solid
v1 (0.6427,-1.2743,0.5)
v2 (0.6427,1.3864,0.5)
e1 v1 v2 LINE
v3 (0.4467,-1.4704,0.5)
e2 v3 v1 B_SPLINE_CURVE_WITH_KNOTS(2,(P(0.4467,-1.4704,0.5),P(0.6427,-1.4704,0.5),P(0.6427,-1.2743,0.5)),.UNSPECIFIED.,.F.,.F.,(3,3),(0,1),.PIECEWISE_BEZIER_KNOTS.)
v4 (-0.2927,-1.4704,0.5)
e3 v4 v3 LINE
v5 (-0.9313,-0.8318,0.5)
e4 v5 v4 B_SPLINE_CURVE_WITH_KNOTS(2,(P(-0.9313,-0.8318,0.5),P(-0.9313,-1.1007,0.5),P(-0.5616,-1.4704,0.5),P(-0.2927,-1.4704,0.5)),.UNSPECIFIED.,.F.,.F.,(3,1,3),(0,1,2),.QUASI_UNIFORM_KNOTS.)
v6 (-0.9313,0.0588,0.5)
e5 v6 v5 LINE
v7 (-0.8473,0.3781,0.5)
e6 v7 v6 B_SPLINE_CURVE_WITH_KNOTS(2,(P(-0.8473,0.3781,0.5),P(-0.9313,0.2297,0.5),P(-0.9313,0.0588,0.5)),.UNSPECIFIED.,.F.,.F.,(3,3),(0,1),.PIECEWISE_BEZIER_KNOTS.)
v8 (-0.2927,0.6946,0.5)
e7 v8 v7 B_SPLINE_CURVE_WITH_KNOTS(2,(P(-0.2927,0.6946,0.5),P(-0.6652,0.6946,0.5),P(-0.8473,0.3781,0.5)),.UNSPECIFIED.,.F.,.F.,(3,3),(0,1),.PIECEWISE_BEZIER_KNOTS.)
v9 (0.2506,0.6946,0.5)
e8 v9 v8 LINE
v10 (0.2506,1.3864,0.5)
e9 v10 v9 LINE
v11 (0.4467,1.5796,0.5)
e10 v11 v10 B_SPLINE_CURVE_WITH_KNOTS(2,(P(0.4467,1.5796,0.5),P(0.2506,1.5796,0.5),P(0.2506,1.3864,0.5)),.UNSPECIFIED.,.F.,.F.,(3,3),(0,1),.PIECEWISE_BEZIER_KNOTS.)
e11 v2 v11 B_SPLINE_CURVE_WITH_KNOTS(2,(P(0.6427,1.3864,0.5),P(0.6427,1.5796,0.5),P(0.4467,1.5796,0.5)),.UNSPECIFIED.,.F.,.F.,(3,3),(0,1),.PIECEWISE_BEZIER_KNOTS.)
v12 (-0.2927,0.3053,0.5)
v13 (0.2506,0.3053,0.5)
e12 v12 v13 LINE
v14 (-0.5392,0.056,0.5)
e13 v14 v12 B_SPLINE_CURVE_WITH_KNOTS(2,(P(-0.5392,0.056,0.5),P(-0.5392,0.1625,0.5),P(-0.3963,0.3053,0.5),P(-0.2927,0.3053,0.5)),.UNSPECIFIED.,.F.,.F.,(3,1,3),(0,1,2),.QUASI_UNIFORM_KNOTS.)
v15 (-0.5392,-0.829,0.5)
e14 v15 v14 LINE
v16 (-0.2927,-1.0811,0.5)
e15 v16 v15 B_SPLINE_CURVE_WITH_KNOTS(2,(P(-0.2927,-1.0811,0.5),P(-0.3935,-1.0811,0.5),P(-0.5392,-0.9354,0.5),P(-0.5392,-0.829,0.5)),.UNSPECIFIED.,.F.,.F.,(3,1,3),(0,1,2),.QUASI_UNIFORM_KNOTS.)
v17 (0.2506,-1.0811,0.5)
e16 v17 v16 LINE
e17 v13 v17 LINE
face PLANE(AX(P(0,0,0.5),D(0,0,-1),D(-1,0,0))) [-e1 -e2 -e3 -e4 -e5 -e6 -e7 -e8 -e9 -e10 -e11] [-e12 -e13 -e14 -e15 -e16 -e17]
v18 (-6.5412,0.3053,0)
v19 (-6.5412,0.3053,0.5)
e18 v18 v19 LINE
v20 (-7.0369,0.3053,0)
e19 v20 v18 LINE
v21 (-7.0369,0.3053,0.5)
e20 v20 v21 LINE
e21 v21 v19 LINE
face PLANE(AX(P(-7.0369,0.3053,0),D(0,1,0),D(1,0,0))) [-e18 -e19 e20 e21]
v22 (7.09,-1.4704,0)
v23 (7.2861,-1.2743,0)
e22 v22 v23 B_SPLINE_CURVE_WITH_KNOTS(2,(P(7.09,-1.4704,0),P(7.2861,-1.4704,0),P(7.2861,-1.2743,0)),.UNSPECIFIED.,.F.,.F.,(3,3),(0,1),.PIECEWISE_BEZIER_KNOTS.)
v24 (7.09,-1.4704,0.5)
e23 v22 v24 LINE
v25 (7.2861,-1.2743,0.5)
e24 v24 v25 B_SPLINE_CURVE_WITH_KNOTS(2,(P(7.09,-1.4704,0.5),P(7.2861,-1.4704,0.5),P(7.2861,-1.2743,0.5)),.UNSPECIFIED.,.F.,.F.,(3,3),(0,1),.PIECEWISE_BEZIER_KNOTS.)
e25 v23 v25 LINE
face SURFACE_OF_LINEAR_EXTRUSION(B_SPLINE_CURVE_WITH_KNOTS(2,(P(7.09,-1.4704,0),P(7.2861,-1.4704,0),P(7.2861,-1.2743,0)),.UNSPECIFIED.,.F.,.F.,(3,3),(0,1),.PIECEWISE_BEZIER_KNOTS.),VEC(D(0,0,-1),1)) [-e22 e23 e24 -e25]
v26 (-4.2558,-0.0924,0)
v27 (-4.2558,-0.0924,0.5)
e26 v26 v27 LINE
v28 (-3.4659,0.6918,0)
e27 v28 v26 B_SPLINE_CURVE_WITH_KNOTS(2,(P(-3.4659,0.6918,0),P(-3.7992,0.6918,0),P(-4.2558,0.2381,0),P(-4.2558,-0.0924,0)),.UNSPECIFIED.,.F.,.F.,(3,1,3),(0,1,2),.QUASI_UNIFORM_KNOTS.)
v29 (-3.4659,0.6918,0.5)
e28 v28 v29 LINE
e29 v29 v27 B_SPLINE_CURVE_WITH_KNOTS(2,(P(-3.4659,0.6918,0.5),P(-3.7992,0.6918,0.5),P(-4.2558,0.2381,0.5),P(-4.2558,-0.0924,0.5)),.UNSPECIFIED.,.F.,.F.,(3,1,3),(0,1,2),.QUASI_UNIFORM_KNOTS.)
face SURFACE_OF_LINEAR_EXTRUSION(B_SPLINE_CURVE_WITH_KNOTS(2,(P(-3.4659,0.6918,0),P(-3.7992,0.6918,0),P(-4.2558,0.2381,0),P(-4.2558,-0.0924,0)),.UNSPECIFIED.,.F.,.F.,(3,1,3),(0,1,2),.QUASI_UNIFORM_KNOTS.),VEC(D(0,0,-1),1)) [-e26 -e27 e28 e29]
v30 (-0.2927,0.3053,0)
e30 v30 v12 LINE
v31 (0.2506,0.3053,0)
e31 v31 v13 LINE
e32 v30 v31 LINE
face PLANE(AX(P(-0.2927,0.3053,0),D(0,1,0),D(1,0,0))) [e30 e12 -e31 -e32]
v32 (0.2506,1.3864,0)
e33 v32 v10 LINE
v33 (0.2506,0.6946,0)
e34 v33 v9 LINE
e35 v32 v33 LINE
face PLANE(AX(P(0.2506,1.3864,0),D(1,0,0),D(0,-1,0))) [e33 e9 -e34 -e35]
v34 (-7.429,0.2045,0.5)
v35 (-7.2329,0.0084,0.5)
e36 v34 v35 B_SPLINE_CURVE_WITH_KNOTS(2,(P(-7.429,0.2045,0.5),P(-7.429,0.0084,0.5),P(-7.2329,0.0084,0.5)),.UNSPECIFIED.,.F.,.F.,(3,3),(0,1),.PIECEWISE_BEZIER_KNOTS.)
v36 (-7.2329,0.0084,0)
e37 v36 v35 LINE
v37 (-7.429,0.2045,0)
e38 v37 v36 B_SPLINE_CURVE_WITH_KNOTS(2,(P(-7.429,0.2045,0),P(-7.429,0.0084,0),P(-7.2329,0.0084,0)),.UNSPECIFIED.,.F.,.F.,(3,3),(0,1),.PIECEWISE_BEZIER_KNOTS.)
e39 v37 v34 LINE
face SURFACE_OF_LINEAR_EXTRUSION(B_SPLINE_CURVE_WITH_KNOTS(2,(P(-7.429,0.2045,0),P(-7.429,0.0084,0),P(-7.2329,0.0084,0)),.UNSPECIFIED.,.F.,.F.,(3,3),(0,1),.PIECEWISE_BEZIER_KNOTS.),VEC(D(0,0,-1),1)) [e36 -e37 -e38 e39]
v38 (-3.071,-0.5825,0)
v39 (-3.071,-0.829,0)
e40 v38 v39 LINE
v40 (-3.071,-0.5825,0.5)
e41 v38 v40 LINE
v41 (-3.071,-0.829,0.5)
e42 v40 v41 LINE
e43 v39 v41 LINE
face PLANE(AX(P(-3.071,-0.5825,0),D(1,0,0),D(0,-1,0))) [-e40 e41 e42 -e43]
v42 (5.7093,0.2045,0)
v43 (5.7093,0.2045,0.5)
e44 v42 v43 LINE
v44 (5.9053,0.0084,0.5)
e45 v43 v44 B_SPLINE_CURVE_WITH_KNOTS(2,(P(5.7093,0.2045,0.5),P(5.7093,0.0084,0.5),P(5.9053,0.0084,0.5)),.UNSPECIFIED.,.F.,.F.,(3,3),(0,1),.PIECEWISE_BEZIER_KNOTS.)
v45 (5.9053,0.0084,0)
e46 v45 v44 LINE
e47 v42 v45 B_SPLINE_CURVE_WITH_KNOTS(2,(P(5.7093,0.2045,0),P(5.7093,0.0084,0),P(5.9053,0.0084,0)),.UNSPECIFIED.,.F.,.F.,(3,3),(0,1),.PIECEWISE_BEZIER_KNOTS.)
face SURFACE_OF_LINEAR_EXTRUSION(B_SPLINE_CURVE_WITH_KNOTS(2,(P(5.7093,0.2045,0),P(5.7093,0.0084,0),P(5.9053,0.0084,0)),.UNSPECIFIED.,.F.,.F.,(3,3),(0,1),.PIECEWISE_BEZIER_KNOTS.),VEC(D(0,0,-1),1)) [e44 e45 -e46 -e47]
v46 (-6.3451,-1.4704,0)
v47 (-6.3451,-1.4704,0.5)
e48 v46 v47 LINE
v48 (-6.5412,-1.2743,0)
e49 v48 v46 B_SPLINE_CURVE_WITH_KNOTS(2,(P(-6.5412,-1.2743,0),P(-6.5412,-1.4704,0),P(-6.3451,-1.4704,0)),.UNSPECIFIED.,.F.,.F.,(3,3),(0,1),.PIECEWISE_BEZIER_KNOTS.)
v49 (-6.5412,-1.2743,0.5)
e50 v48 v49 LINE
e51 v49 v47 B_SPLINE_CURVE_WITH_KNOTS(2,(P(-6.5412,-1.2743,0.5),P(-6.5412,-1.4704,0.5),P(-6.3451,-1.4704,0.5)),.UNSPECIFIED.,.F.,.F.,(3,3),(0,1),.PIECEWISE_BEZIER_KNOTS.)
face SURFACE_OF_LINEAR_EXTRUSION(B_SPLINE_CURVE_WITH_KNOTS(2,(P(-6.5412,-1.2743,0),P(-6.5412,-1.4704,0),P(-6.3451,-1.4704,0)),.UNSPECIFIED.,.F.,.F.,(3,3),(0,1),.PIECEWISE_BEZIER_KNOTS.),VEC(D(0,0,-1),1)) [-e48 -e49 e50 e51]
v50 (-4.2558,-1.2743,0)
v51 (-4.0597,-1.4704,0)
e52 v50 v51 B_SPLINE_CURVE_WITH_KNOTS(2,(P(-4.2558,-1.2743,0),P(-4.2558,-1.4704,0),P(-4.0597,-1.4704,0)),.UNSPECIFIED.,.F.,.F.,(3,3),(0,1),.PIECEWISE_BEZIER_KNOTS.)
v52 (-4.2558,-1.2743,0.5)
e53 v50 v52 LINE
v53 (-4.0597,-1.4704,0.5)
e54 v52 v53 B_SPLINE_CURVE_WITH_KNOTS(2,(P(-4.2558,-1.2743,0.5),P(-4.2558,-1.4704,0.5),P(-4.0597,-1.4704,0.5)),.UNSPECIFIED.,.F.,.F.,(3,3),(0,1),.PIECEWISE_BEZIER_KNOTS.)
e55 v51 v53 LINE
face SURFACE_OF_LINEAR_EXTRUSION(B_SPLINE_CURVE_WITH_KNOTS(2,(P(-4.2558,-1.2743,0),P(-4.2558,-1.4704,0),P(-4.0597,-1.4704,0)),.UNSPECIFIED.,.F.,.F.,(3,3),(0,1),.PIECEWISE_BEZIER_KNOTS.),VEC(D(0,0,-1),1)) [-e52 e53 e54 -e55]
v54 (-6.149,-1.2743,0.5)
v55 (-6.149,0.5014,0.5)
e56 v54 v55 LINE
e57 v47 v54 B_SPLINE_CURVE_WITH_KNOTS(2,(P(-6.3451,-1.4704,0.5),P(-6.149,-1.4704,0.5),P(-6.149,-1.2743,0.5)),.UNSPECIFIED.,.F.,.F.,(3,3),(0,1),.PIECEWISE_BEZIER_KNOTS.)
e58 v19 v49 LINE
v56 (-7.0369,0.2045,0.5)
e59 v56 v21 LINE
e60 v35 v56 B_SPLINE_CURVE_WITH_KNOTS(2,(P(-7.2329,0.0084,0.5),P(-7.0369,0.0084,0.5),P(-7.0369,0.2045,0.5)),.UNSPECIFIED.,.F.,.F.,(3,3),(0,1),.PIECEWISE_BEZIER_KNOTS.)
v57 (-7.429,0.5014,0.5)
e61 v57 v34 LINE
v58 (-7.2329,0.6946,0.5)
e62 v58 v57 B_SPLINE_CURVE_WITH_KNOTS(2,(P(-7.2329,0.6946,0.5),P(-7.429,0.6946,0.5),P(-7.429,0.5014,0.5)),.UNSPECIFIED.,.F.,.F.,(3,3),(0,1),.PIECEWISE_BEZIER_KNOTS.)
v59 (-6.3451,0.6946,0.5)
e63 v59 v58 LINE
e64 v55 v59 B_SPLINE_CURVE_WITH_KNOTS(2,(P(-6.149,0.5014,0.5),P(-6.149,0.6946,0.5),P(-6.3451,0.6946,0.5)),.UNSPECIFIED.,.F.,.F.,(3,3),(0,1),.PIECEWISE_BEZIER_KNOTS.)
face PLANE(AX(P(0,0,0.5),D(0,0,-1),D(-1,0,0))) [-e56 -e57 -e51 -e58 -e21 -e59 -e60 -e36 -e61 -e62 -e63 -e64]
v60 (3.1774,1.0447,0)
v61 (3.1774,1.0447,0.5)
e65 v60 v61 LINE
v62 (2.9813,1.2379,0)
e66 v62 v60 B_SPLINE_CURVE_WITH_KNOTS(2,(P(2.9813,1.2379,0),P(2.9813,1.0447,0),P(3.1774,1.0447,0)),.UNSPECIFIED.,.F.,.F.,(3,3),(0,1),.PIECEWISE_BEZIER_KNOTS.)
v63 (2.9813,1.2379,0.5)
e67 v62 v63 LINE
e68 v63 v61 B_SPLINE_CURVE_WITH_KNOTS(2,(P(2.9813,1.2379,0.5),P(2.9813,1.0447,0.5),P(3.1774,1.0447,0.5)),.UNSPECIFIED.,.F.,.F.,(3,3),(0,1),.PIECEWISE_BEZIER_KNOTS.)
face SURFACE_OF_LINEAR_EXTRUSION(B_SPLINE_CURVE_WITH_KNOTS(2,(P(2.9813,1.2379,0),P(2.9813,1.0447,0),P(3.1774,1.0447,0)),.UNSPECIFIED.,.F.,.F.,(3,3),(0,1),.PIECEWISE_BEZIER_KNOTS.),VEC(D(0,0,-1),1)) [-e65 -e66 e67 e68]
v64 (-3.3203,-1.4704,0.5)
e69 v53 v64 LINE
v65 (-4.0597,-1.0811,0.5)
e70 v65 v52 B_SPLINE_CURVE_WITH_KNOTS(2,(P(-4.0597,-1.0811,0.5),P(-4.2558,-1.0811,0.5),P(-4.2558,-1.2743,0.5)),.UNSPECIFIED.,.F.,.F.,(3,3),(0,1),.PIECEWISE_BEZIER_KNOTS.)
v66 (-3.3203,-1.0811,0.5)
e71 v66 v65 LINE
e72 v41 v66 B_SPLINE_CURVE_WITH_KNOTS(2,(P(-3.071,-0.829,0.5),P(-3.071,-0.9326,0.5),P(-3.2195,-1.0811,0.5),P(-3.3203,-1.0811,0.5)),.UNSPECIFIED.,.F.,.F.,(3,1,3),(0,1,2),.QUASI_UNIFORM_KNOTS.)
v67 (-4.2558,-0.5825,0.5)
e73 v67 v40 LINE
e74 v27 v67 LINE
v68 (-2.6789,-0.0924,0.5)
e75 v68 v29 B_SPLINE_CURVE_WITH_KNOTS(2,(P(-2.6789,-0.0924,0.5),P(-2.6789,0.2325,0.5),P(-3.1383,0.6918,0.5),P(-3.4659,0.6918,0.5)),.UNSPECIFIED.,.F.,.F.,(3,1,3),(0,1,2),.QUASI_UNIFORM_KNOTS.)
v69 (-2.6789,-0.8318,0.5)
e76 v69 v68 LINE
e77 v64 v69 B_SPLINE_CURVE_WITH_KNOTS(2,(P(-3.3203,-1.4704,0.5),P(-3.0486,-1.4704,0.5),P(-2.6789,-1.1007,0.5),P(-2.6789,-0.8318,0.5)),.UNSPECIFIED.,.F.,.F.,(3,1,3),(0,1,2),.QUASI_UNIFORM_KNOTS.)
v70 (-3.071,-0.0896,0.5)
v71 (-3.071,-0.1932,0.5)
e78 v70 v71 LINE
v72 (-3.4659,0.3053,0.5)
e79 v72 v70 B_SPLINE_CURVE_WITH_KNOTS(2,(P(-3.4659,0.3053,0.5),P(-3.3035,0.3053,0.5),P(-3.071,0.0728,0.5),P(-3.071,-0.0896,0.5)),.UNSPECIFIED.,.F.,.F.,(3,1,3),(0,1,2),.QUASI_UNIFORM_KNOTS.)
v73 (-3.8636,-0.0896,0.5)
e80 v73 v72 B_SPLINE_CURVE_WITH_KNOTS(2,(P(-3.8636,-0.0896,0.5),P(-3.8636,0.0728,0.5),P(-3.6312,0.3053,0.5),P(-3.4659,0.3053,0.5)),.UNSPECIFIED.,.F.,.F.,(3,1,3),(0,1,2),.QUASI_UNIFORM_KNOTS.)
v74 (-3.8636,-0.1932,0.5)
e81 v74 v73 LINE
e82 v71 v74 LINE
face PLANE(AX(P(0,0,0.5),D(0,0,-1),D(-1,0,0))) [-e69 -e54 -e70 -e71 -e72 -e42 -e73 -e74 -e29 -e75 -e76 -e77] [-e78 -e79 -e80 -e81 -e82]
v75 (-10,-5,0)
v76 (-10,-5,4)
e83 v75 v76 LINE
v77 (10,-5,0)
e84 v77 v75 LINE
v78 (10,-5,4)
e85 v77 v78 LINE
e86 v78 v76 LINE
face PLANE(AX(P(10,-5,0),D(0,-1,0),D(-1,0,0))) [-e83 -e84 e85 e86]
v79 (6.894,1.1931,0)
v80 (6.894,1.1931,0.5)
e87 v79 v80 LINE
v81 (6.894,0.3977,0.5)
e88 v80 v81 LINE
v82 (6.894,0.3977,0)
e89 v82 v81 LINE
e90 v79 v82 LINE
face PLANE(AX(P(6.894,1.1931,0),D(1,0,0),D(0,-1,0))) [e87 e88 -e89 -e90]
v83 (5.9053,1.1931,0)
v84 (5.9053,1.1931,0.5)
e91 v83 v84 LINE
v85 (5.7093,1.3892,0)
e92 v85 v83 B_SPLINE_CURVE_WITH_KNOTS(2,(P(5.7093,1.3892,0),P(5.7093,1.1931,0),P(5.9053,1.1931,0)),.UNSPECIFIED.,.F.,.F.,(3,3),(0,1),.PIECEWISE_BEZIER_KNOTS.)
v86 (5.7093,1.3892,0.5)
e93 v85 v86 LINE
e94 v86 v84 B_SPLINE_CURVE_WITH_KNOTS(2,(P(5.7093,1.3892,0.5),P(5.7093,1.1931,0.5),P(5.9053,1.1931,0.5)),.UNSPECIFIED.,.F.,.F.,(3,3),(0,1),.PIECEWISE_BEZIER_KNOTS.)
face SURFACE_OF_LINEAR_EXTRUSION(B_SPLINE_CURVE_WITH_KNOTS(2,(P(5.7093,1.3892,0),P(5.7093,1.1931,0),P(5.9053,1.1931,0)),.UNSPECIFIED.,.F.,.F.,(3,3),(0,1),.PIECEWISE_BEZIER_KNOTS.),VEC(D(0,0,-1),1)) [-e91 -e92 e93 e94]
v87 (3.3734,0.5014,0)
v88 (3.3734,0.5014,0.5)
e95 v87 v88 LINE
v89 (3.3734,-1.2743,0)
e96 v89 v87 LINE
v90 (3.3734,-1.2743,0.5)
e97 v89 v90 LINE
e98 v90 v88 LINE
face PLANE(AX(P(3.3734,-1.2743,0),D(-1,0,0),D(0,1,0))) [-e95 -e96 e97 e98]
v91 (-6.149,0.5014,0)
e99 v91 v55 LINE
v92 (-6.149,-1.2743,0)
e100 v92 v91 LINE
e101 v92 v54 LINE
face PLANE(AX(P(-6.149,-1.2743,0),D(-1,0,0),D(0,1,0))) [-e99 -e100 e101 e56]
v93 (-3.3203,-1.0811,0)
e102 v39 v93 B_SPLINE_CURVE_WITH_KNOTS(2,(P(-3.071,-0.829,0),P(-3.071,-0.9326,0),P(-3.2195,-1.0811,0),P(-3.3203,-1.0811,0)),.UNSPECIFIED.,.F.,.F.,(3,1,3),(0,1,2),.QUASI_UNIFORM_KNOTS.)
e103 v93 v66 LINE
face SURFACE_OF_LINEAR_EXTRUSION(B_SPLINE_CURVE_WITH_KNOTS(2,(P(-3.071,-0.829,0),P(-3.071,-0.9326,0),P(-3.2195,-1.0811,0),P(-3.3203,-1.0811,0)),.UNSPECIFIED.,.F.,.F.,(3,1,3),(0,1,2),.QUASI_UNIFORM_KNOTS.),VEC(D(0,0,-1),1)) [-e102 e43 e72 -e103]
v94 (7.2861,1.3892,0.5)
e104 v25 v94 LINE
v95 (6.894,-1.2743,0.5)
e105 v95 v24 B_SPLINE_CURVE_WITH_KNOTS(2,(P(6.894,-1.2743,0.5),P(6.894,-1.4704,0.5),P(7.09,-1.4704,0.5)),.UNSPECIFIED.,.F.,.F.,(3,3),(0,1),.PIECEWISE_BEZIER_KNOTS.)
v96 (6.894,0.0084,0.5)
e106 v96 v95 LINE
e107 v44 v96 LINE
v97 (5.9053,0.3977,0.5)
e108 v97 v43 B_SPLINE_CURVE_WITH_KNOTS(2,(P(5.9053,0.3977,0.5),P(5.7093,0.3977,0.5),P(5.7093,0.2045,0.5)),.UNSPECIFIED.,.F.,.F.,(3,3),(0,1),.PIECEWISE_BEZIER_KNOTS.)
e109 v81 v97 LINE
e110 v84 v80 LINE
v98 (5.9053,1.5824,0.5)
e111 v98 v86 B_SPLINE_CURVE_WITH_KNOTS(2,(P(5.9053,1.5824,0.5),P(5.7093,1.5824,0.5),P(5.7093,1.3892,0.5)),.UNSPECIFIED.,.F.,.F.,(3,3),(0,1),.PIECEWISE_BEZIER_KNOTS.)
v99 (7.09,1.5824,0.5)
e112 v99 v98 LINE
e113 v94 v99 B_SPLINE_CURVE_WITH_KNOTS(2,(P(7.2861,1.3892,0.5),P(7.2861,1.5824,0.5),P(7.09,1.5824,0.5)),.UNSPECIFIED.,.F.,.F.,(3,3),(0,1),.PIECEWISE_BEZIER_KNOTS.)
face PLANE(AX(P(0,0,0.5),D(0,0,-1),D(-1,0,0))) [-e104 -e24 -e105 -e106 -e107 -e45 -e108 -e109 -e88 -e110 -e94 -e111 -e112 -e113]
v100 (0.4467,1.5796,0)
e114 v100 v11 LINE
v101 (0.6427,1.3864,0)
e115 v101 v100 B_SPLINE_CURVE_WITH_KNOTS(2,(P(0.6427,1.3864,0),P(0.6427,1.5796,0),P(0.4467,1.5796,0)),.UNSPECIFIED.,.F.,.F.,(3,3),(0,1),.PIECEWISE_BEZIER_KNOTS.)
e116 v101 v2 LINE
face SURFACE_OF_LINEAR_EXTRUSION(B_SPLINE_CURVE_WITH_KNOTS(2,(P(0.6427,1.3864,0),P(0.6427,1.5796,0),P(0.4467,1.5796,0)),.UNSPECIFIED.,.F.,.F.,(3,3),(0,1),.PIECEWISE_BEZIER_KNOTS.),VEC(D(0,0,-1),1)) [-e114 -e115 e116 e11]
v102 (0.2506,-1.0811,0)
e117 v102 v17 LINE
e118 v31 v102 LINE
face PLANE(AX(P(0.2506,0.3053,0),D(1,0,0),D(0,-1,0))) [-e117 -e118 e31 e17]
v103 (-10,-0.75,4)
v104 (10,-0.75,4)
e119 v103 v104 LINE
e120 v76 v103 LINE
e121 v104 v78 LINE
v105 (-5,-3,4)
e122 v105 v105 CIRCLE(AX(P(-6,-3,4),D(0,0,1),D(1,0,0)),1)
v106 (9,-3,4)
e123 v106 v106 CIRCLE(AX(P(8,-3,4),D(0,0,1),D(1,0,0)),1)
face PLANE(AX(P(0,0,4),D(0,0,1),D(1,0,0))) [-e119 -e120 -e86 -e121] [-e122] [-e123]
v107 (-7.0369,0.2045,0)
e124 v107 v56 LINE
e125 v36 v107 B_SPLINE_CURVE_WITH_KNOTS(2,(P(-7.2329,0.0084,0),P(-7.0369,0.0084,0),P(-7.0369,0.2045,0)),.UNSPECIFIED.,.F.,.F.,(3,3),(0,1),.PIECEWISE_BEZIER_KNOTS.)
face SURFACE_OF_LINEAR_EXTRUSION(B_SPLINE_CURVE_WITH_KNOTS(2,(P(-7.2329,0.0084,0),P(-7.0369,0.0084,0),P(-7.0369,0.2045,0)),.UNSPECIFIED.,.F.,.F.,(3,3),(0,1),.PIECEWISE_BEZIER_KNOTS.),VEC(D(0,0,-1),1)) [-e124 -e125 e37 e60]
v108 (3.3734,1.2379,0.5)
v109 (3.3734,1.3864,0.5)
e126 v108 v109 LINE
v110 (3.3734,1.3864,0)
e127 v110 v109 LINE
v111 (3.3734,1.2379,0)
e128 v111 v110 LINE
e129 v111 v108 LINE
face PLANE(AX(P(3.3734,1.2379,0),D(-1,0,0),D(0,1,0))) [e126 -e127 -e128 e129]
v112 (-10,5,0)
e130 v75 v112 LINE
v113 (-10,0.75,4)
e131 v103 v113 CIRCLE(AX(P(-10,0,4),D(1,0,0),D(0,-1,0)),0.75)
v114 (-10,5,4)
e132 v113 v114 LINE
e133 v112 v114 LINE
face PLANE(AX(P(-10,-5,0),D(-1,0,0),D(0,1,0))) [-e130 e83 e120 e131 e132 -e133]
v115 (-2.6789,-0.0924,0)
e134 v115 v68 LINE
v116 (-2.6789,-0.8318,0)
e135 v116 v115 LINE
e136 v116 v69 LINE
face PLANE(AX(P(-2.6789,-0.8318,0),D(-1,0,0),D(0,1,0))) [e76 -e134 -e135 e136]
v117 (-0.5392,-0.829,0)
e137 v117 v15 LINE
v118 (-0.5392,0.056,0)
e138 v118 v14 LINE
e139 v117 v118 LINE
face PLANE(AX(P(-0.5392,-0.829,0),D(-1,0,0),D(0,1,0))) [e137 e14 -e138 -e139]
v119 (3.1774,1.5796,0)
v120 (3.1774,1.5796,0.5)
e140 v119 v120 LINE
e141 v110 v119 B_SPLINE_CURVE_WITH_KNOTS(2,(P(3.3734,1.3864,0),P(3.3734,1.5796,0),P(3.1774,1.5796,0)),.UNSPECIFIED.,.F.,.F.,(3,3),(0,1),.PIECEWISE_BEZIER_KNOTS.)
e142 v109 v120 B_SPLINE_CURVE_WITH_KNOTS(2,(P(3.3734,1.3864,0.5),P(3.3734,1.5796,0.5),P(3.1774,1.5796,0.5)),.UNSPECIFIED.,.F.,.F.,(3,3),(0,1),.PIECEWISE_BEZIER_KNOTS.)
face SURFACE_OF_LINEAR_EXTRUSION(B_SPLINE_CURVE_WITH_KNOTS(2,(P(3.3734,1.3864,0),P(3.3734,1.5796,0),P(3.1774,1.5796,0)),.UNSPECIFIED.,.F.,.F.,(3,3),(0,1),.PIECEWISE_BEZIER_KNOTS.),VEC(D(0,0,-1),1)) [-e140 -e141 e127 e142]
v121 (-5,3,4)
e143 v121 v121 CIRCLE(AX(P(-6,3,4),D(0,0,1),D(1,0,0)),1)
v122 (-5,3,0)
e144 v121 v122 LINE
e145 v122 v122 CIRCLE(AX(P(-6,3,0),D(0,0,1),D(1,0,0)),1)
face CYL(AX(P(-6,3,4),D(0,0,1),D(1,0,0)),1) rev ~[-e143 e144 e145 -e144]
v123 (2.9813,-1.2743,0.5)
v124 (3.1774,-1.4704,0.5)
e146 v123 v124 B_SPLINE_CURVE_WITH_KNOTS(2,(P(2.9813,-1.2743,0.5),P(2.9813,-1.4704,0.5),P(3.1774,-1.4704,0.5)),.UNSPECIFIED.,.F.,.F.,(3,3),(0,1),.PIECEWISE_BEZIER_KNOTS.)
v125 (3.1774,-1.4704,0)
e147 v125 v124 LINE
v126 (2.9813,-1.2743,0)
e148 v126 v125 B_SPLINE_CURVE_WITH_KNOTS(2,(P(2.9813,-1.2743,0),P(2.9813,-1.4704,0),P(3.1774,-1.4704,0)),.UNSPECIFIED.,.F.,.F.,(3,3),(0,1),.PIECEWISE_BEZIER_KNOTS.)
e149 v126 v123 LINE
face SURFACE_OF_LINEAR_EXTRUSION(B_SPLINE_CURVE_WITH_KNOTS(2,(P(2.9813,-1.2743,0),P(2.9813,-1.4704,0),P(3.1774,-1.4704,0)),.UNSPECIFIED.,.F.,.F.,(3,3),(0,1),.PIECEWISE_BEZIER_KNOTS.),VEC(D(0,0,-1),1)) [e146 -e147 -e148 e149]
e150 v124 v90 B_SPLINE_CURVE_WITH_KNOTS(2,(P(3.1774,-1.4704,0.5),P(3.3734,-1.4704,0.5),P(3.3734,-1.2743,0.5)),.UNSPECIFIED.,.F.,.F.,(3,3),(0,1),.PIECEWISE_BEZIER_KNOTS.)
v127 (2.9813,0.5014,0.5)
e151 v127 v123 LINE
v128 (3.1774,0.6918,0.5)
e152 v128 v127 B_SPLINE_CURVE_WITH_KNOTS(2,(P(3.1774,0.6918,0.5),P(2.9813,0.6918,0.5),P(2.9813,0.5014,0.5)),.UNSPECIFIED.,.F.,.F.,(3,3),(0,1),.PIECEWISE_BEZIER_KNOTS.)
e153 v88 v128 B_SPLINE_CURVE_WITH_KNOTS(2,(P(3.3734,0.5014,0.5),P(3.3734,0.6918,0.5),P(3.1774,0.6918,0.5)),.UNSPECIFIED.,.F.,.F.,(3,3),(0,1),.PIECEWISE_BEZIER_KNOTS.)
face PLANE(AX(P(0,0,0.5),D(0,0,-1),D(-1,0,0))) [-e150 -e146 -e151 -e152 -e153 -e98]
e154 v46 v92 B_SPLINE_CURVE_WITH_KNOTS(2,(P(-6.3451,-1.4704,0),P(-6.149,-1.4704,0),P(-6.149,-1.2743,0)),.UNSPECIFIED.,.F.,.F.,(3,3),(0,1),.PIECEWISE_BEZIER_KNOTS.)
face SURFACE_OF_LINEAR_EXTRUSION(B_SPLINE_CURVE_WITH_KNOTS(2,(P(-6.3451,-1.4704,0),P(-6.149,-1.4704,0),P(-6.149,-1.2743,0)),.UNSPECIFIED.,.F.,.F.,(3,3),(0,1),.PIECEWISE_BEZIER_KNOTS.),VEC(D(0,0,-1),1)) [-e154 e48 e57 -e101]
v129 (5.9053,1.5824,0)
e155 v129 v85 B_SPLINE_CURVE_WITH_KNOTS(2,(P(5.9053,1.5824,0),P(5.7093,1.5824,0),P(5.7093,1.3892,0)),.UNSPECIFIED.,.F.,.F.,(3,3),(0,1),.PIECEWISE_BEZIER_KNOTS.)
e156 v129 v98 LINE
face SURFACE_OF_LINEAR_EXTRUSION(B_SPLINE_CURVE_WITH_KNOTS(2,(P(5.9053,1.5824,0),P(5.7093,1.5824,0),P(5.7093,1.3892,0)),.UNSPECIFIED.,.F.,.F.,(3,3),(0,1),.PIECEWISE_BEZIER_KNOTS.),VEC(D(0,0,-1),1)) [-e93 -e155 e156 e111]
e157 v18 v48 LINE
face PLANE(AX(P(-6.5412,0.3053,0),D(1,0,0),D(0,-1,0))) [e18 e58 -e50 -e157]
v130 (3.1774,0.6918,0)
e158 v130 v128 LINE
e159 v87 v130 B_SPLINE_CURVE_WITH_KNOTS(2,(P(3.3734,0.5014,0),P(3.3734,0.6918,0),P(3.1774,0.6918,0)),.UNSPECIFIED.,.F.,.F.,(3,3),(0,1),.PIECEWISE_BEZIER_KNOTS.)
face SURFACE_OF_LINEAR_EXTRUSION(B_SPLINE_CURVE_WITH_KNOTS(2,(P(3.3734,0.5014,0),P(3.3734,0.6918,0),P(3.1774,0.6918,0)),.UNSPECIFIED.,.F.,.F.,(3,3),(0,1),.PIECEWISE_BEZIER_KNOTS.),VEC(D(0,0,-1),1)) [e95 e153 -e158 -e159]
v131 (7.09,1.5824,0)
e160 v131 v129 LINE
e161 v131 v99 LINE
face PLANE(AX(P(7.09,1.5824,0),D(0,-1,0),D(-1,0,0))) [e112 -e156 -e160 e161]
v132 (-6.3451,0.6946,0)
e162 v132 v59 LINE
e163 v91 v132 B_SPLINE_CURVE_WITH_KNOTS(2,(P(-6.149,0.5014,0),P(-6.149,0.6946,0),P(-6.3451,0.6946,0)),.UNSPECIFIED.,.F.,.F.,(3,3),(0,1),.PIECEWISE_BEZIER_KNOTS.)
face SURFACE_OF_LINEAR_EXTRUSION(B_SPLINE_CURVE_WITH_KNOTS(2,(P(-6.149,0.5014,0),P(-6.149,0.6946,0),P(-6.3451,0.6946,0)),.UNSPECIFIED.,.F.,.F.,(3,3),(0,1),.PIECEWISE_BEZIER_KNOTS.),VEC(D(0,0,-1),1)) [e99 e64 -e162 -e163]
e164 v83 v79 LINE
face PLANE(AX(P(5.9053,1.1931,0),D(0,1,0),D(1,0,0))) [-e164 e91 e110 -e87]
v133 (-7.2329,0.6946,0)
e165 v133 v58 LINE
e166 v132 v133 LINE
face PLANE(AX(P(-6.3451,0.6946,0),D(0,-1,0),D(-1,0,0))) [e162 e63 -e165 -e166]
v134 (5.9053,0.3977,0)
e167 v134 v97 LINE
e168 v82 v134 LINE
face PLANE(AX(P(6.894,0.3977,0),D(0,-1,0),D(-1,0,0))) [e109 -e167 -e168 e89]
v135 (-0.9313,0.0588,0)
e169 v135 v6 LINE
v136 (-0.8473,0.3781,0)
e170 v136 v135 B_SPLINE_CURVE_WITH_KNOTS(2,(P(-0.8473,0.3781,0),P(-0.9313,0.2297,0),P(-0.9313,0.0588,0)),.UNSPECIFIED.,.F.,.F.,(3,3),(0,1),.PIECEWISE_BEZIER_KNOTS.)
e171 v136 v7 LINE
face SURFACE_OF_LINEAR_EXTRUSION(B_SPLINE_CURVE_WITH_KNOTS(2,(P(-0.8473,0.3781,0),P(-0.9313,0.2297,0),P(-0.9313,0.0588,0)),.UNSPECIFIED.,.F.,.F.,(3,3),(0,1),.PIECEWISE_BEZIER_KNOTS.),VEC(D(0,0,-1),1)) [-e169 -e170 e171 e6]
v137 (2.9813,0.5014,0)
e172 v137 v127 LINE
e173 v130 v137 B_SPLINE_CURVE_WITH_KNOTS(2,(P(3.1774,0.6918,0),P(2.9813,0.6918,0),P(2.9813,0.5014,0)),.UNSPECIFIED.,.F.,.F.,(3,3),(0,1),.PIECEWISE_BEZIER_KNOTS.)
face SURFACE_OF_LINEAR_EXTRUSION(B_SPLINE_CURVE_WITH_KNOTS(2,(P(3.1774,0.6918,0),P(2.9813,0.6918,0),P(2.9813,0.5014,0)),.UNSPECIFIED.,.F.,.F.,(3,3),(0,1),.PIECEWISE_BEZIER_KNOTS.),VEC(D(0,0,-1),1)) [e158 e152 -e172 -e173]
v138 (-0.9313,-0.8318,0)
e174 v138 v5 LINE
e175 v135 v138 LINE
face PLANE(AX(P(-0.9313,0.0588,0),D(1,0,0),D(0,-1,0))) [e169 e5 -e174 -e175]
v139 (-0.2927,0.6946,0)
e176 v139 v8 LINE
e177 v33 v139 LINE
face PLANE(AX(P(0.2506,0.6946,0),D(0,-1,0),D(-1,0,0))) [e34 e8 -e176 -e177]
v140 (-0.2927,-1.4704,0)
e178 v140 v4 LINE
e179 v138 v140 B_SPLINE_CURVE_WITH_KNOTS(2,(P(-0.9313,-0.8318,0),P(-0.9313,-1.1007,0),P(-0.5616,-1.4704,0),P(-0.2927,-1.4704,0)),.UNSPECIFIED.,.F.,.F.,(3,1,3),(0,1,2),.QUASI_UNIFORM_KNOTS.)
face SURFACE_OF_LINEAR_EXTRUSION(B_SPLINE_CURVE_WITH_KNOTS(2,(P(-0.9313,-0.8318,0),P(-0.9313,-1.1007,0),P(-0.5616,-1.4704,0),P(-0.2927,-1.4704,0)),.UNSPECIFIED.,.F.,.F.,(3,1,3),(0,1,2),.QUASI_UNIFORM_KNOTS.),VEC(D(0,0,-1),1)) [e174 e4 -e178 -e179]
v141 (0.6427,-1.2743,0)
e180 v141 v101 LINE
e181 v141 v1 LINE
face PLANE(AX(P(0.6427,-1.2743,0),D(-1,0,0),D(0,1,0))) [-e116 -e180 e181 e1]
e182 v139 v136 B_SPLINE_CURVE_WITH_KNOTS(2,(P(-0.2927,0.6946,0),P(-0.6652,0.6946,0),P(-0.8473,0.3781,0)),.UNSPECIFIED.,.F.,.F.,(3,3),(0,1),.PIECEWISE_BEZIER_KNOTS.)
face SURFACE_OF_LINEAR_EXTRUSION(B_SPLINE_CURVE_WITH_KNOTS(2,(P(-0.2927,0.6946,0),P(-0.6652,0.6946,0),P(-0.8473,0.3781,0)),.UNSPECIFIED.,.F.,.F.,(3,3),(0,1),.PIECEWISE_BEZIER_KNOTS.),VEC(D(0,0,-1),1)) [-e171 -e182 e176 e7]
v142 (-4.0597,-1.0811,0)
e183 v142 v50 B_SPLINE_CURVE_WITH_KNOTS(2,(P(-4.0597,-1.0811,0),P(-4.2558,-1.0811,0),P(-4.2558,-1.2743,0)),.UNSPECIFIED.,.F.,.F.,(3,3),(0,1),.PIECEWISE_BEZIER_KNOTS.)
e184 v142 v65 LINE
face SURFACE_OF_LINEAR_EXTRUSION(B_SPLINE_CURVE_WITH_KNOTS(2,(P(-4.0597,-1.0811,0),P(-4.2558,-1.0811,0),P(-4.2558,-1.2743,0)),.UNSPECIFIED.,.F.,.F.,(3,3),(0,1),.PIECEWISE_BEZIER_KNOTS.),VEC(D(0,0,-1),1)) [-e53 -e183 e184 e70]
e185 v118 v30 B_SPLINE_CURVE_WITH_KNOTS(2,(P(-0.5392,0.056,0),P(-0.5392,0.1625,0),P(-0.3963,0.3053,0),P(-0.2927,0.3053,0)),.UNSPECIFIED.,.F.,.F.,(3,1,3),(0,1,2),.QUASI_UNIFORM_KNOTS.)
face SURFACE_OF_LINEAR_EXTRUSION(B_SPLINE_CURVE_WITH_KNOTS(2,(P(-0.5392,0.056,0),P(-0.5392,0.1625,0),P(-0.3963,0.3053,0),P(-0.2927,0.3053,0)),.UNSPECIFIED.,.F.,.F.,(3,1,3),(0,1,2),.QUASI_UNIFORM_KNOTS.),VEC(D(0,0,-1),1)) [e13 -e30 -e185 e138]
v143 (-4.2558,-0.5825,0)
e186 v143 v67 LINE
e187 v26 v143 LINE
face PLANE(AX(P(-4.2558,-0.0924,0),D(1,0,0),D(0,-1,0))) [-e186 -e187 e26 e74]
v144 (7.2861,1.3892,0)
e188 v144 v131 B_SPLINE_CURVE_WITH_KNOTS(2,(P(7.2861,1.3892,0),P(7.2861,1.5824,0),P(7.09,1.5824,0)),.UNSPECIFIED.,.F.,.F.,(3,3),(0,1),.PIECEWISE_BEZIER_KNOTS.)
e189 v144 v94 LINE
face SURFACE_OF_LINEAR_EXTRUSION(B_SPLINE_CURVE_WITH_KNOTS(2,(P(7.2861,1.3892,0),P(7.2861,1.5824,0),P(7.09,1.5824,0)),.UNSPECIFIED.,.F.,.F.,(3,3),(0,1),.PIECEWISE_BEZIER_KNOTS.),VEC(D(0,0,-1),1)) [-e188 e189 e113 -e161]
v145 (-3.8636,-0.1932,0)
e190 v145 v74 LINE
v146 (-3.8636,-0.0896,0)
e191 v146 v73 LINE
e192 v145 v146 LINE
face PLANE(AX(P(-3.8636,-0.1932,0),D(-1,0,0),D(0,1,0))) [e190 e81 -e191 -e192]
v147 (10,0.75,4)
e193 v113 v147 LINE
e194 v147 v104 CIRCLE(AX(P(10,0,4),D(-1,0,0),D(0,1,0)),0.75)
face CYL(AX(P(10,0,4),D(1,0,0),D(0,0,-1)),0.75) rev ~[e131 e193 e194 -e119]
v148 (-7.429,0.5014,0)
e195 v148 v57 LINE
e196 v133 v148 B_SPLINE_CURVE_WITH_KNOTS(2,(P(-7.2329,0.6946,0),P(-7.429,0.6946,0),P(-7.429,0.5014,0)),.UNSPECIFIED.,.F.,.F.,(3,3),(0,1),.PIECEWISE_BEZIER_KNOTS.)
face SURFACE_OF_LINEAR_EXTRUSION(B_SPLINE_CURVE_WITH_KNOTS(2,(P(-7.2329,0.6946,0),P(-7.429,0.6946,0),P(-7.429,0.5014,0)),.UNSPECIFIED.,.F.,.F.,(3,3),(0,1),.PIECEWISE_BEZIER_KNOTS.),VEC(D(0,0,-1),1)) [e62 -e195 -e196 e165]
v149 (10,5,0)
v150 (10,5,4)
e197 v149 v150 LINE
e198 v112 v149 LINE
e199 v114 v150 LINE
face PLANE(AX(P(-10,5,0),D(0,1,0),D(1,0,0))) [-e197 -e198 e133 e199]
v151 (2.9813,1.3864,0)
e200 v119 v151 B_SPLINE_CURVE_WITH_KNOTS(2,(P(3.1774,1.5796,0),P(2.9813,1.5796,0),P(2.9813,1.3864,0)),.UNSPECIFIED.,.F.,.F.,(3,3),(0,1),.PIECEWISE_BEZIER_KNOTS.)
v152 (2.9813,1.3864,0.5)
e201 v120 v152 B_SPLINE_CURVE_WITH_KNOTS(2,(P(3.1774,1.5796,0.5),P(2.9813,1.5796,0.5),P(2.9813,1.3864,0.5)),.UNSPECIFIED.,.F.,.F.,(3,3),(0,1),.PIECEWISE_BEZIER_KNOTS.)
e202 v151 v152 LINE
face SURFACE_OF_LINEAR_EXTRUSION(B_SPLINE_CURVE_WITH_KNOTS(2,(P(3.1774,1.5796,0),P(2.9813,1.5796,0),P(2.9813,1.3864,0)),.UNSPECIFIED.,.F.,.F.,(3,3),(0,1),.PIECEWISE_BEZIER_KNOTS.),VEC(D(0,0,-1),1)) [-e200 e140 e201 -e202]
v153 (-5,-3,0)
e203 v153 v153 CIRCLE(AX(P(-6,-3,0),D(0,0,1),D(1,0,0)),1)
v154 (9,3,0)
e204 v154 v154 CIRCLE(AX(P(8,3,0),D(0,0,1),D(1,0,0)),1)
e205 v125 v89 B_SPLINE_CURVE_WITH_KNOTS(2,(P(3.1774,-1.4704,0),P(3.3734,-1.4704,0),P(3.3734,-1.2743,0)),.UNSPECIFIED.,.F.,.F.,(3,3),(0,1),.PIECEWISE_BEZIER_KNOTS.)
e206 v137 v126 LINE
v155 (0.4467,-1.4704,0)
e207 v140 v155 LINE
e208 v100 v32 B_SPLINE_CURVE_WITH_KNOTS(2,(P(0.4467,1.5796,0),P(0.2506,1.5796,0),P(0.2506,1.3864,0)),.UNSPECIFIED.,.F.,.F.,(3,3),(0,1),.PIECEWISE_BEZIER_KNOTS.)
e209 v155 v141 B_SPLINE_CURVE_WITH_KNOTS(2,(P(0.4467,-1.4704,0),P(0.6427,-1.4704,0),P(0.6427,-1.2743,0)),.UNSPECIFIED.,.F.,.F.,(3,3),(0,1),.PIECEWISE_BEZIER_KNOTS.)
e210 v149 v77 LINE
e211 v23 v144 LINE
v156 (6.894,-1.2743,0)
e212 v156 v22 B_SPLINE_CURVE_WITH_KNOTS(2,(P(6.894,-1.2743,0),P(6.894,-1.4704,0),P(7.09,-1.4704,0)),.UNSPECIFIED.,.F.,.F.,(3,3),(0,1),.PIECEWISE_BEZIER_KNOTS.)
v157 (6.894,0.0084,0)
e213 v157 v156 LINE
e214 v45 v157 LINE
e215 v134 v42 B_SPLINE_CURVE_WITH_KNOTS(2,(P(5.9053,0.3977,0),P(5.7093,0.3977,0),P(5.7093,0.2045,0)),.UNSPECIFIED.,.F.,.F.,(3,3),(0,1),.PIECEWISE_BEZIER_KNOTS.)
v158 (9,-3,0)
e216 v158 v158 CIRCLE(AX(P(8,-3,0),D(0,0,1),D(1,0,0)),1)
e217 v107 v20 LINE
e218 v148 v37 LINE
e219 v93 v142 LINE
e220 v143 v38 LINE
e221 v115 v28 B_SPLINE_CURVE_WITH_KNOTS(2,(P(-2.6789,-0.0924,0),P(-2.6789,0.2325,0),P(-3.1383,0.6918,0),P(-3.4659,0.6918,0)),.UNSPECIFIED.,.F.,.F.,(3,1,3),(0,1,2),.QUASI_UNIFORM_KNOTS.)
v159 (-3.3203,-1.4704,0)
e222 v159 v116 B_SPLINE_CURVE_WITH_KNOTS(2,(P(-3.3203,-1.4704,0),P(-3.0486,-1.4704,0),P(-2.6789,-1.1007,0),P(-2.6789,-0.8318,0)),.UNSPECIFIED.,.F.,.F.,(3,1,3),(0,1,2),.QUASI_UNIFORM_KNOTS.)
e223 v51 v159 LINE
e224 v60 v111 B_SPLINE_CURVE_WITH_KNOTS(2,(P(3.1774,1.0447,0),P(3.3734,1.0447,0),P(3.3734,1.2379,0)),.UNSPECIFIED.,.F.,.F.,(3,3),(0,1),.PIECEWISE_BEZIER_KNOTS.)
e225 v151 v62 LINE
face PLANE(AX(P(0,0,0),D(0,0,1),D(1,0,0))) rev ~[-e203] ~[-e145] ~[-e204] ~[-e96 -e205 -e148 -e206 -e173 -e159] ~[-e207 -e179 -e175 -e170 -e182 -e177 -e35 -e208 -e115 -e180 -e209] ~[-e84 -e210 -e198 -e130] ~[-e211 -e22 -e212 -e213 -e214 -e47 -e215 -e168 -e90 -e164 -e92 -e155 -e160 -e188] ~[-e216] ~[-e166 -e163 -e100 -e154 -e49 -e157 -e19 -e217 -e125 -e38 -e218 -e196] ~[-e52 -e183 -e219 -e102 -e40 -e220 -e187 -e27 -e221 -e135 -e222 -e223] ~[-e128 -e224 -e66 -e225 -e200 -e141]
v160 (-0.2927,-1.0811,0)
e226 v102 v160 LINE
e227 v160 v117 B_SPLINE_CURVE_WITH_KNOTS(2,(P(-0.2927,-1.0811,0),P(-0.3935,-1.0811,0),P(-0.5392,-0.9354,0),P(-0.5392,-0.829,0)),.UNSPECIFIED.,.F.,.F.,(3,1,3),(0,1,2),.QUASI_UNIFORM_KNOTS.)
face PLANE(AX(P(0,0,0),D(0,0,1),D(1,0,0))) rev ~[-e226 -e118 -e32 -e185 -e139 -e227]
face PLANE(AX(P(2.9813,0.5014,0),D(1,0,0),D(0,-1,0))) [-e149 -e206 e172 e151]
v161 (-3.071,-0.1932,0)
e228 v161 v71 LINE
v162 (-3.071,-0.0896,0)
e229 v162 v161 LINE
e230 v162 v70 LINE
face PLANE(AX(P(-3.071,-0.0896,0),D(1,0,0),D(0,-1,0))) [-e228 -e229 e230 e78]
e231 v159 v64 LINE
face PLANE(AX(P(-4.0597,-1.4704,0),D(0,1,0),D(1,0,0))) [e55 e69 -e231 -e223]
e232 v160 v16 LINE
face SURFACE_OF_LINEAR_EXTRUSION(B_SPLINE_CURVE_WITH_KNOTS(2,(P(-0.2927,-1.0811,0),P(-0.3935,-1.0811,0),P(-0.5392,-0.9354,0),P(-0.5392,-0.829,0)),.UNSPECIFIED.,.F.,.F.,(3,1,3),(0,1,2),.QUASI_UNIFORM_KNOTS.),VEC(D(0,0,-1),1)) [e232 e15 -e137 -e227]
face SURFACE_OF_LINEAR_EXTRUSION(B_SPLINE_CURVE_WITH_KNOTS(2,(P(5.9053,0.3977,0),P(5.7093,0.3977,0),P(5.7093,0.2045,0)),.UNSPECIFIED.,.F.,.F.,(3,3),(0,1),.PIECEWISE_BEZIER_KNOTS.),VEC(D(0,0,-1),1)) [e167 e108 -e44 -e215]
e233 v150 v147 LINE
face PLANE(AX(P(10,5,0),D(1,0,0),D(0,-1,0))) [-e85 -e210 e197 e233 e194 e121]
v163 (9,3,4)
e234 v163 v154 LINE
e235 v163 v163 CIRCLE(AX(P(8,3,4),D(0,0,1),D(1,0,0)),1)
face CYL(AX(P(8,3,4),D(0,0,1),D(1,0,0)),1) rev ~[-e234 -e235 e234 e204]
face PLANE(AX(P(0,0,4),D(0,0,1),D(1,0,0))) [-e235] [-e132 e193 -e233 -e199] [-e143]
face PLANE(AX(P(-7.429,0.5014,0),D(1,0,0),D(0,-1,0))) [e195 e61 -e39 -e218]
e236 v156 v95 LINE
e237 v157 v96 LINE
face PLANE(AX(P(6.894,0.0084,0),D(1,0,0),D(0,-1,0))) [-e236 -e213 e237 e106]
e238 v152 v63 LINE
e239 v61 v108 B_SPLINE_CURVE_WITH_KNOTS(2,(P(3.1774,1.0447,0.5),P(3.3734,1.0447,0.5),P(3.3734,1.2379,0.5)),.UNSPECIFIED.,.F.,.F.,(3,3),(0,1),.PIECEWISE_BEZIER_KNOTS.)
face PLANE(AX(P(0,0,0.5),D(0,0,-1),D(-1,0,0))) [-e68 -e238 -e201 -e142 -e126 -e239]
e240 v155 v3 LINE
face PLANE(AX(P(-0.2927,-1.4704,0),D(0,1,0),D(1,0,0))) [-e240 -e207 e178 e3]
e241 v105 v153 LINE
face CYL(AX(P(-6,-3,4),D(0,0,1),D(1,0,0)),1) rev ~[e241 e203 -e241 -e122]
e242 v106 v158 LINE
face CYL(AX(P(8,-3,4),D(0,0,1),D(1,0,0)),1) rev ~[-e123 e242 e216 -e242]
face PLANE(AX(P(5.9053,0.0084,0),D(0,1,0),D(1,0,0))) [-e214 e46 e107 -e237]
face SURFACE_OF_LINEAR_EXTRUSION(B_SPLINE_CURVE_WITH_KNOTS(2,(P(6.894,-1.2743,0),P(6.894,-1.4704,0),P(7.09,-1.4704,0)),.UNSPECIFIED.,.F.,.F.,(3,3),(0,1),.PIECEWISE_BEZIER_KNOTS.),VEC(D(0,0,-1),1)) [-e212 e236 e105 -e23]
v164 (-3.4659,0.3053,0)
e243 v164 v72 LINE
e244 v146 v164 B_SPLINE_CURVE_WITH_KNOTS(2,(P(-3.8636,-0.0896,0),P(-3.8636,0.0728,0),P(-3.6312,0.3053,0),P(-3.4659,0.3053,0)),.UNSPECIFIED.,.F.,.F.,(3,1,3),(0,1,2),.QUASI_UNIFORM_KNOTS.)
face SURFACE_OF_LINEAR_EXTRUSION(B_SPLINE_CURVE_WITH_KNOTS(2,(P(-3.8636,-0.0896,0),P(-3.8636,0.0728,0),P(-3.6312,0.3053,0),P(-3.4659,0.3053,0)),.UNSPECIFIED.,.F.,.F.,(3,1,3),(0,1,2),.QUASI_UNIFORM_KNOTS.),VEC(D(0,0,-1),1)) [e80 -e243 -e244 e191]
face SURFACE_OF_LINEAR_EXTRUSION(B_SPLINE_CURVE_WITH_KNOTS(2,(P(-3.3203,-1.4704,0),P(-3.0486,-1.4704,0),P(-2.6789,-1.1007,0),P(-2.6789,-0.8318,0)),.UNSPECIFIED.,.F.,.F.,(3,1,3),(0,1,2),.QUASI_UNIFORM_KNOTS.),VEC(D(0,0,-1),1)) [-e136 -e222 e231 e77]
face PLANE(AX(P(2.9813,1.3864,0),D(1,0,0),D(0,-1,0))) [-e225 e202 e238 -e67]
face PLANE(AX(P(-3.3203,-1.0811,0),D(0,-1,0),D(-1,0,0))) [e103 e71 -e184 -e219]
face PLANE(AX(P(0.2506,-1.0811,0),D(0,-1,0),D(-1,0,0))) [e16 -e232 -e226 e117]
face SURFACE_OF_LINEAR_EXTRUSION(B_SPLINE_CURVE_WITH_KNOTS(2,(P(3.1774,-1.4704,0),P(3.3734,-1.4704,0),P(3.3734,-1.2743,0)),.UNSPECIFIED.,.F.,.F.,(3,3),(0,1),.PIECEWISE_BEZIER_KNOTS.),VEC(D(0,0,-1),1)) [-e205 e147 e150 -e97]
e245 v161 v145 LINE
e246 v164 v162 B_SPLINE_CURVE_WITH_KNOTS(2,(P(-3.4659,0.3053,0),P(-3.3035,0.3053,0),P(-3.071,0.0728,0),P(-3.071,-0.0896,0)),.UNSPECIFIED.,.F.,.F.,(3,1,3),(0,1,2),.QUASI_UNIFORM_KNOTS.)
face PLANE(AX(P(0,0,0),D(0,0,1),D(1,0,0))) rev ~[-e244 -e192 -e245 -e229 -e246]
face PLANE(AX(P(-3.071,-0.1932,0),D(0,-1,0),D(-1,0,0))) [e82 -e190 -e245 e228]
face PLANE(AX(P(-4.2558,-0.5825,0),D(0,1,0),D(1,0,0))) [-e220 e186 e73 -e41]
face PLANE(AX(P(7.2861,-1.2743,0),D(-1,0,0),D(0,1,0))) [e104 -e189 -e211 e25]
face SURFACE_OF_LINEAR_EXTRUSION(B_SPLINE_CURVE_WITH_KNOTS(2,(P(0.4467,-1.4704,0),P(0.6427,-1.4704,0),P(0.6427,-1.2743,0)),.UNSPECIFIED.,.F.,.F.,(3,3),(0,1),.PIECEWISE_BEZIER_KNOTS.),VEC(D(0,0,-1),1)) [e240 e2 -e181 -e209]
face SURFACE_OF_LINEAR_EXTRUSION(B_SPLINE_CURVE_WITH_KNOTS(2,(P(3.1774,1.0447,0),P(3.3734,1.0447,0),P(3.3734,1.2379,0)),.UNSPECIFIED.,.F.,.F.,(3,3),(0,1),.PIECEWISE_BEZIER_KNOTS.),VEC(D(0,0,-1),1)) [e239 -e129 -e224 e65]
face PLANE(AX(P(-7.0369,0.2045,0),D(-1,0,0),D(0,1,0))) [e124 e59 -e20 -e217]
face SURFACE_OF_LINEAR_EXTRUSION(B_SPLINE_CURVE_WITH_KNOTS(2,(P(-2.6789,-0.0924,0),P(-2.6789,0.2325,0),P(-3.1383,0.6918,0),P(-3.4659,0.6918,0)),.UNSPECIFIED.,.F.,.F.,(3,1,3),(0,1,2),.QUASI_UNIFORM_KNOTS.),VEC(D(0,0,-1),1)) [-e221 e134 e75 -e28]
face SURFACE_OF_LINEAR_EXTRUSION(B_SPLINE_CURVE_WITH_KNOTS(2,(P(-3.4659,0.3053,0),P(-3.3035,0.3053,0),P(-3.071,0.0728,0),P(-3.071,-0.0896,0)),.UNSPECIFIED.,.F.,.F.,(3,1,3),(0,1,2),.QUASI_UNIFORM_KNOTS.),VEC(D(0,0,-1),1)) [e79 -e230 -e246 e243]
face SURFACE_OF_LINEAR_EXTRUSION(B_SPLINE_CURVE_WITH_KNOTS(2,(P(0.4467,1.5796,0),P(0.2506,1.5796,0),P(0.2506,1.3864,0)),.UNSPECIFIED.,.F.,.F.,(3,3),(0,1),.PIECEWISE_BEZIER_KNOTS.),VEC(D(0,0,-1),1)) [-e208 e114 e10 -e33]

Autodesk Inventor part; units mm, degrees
ref_plane "YZ Plane" through (0, 0, 0) normal (1, 0, 0) x (0, 1, 0)
ref_plane "XZ Plane" through (0, 0, 0) normal (0, 1, 0) x (-1, 0, 0)
ref_plane "XY Plane" through (0, 0, 0) normal (0, 0, 1) x (1, 0, 0)
sketch "Sketch3" plane through (0, 0, 0) normal (0, 0, 1) x (1, 0, 0)
  line L0 (-10, 5) -> (10, 5)
  line L1 (10, 5) -> (10, -5)
  line L2 (10, -5) -> (-10, -5)
  line L3 (-10, -5) -> (-10, 5)
  line L4 (-10, 5) -> (10, -5) construction
  line L5 (10, 5) -> (-10, -5) construction
  point P0 (0, 0)
  dimension "d5" = 20
  dimension "d6" = 10
extrude "Extrusion2" add sketch "Sketch3" along normal blind 4
sketch "Sketch4" plane through (10, -5, 0) normal (1, 0, 0) x (0, 0, -1)
  circle A0 centre (-4, 5) radius 0.75
  point P0 (0, 5)
  dimension "d10" = 1.5
extrude "Extrusion3" cut sketch "Sketch4" against normal through all
sketch "Sketch5" plane through (0, 0, 4) normal (0, 0, 1) x (1, 0, 0)
  circle A0 centre (8, 3) radius 1
  circle A1 centre (8, -3) radius 1
  circle A2 centre (-6, 3) radius 1
  circle A3 centre (-6, -3) radius 1
  point P0 (0, 0)
  dimension "d17" = 2
  dimension "d16" = 2
  dimension "d15" = 2
  dimension "d14" = 2
extrude "Extrusion4" cut sketch "Sketch5" against normal through all
sketch "Sketch6" plane through (0, 0, 0) normal (0, 0, -1) x (-1, 0, 0)
  line L0 (-8.1739, 1.5824) -> (1.6987, 1.5824) construction
  line L1 (1.6987, 1.5824) -> (1.6987, -1.5298) construction
  line L2 (1.6987, -1.5298) -> (-8.1739, -1.5298) construction
  line L3 (-8.1739, -1.5298) -> (-8.1739, 1.5824) construction
  line L4 (-7.2861, -1.2743) -> (-7.2861, 1.3892)
  spline S0 degree 2 poles (-7.2861, 1.3892) (-7.2861, 1.5824) (-7.09, 1.5824) knots 0 0 0 1 1 1
  line L5 (-7.09, 1.5824) -> (-5.9053, 1.5824)
  spline S1 degree 2 poles (-5.9053, 1.5824) (-5.7093, 1.5824) (-5.7093, 1.3892) knots 0 0 0 1 1 1
  spline S2 degree 2 poles (-5.7093, 1.3892) (-5.7093, 1.1931) (-5.9053, 1.1931) knots 0 0 0 1 1 1
  line L6 (-5.9053, 1.1931) -> (-6.894, 1.1931)
  line L7 (-6.894, 1.1931) -> (-6.894, 0.3977)
  line L8 (-6.894, 0.3977) -> (-5.9053, 0.3977)
  spline S3 degree 2 poles (-5.9053, 0.3977) (-5.7093, 0.3977) (-5.7093, 0.2045) knots 0 0 0 1 1 1
  spline S4 degree 2 poles (-5.7093, 0.2045) (-5.7093, 0.0084) (-5.9053, 0.0084) knots 0 0 0 1 1 1
  line L9 (-5.9053, 0.0084) -> (-6.894, 0.0084)
  line L10 (-6.894, 0.0084) -> (-6.894, -1.2743)
  spline S5 degree 2 poles (-6.894, -1.2743) (-6.894, -1.4704) (-7.09, -1.4704) knots 0 0 0 1 1 1
  spline S6 degree 2 poles (-7.09, -1.4704) (-7.2861, -1.4704) (-7.2861, -1.2743) knots 0 0 0 1 1 1
  spline S7 degree 2 poles (-3.3734, 0.5014) (-3.3734, 0.6918) (-3.1774, 0.6918) knots 0 0 0 1 1 1
  spline S8 degree 2 poles (-3.1774, 0.6918) (-2.9813, 0.6918) (-2.9813, 0.5014) knots 0 0 0 1 1 1
  line L11 (-2.9813, 0.5014) -> (-2.9813, -1.2743)
  spline S9 degree 2 poles (-2.9813, -1.2743) (-2.9813, -1.4704) (-3.1774, -1.4704) knots 0 0 0 1 1 1
  spline S10 degree 2 poles (-3.1774, -1.4704) (-3.3734, -1.4704) (-3.3734, -1.2743) knots 0 0 0 1 1 1
  line L12 (-3.3734, -1.2743) -> (-3.3734, 0.5014)
  line L13 (-3.3734, 1.2379) -> (-3.3734, 1.3864)
  spline S11 degree 2 poles (-3.3734, 1.3864) (-3.3734, 1.5796) (-3.1774, 1.5796) knots 0 0 0 1 1 1
  spline S12 degree 2 poles (-3.1774, 1.5796) (-2.9813, 1.5796) (-2.9813, 1.3864) knots 0 0 0 1 1 1
  line L14 (-2.9813, 1.3864) -> (-2.9813, 1.2379)
  spline S13 degree 2 poles (-2.9813, 1.2379) (-2.9813, 1.0447) (-3.1774, 1.0447) knots 0 0 0 1 1 1
  spline S14 degree 2 poles (-3.1774, 1.0447) (-3.3734, 1.0447) (-3.3734, 1.2379) knots 0 0 0 1 1 1
  line L15 (0.9313, 0.0588) -> (0.9313, -0.8318)
  spline S15 degree 2 poles (0.9313, -0.8318) (0.9313, -1.1007) (0.5616, -1.4704) (0.2927, -1.4704) knots 0 0 0 1 2 2 2
  line L16 (0.2927, -1.4704) -> (-0.4467, -1.4704)
  spline S16 degree 2 poles (-0.4467, -1.4704) (-0.6427, -1.4704) (-0.6427, -1.2743) knots 0 0 0 1 1 1
  line L17 (-0.6427, -1.2743) -> (-0.6427, 1.3864)
  spline S17 degree 2 poles (-0.6427, 1.3864) (-0.6427, 1.5796) (-0.4467, 1.5796) knots 0 0 0 1 1 1
  spline S18 degree 2 poles (-0.4467, 1.5796) (-0.2506, 1.5796) (-0.2506, 1.3864) knots 0 0 0 1 1 1
  line L18 (-0.2506, 1.3864) -> (-0.2506, 0.6946)
  line L19 (-0.2506, 0.6946) -> (0.2927, 0.6946)
  spline S19 degree 2 poles (0.2927, 0.6946) (0.6652, 0.6946) (0.8473, 0.3781) knots 0 0 0 1 1 1
  spline S20 degree 2 poles (0.8473, 0.3781) (0.9313, 0.2297) (0.9313, 0.0588) knots 0 0 0 1 1 1
  line L20 (0.2927, 0.3053) -> (-0.2506, 0.3053)
  line L21 (-0.2506, 0.3053) -> (-0.2506, -1.0811)
  line L22 (-0.2506, -1.0811) -> (0.2927, -1.0811)
  spline S21 degree 2 poles (0.2927, -1.0811) (0.3935, -1.0811) (0.5392, -0.9354) (0.5392, -0.829) knots 0 0 0 1 2 2 2
  line L23 (0.5392, -0.829) -> (0.5392, 0.056)
  spline S22 degree 2 poles (0.5392, 0.056) (0.5392, 0.1625) (0.3963, 0.3053) (0.2927, 0.3053) knots 0 0 0 1 2 2 2
  line L24 (3.071, -0.5825) -> (3.071, -0.829)
  spline S23 degree 2 poles (3.071, -0.829) (3.071, -0.9326) (3.2195, -1.0811) (3.3203, -1.0811) knots 0 0 0 1 2 2 2
  line L25 (3.3203, -1.0811) -> (4.0597, -1.0811)
  spline S24 degree 2 poles (4.0597, -1.0811) (4.2558, -1.0811) (4.2558, -1.2743) knots 0 0 0 1 1 1
  spline S25 degree 2 poles (4.2558, -1.2743) (4.2558, -1.4704) (4.0597, -1.4704) knots 0 0 0 1 1 1
  line L26 (4.0597, -1.4704) -> (3.3203, -1.4704)
  spline S26 degree 2 poles (3.3203, -1.4704) (3.0486, -1.4704) (2.6789, -1.1007) (2.6789, -0.8318) knots 0 0 0 1 2 2 2
  line L27 (2.6789, -0.8318) -> (2.6789, -0.0924)
  spline S27 degree 2 poles (2.6789, -0.0924) (2.6789, 0.2325) (3.1383, 0.6918) (3.4659, 0.6918) knots 0 0 0 1 2 2 2
  spline S28 degree 2 poles (3.4659, 0.6918) (3.7992, 0.6918) (4.2558, 0.2381) (4.2558, -0.0924) knots 0 0 0 1 2 2 2
  line L28 (4.2558, -0.0924) -> (4.2558, -0.5825)
  line L29 (4.2558, -0.5825) -> (3.071, -0.5825)
  spline S29 degree 2 poles (3.4659, 0.3053) (3.3035, 0.3053) (3.071, 0.0728) (3.071, -0.0896) knots 0 0 0 1 2 2 2
  line L30 (3.071, -0.0896) -> (3.071, -0.1932)
  line L31 (3.071, -0.1932) -> (3.8636, -0.1932)
  line L32 (3.8636, -0.1932) -> (3.8636, -0.0896)
  spline S30 degree 2 poles (3.8636, -0.0896) (3.8636, 0.0728) (3.6312, 0.3053) (3.4659, 0.3053) knots 0 0 0 1 2 2 2
  spline S31 degree 2 poles (6.149, 0.5014) (6.149, 0.6946) (6.3451, 0.6946) knots 0 0 0 1 1 1
  line L33 (6.3451, 0.6946) -> (7.2329, 0.6946)
  spline S32 degree 2 poles (7.2329, 0.6946) (7.429, 0.6946) (7.429, 0.5014) knots 0 0 0 1 1 1
  line L34 (7.429, 0.5014) -> (7.429, 0.2045)
  spline S33 degree 2 poles (7.429, 0.2045) (7.429, 0.0084) (7.2329, 0.0084) knots 0 0 0 1 1 1
  spline S34 degree 2 poles (7.2329, 0.0084) (7.0369, 0.0084) (7.0369, 0.2045) knots 0 0 0 1 1 1
  line L35 (7.0369, 0.2045) -> (7.0369, 0.3053)
  line L36 (7.0369, 0.3053) -> (6.5412, 0.3053)
  line L37 (6.5412, 0.3053) -> (6.5412, -1.2743)
  spline S35 degree 2 poles (6.5412, -1.2743) (6.5412, -1.4704) (6.3451, -1.4704) knots 0 0 0 1 1 1
  spline S36 degree 2 poles (6.3451, -1.4704) (6.149, -1.4704) (6.149, -1.2743) knots 0 0 0 1 1 1
  line L38 (6.149, -1.2743) -> (6.149, 0.5014)
  point P0 (0, 0)
extrude "Extrusion5" cut sketch "Sketch6" against normal blind 0.5
properties part number "fiber_top"
